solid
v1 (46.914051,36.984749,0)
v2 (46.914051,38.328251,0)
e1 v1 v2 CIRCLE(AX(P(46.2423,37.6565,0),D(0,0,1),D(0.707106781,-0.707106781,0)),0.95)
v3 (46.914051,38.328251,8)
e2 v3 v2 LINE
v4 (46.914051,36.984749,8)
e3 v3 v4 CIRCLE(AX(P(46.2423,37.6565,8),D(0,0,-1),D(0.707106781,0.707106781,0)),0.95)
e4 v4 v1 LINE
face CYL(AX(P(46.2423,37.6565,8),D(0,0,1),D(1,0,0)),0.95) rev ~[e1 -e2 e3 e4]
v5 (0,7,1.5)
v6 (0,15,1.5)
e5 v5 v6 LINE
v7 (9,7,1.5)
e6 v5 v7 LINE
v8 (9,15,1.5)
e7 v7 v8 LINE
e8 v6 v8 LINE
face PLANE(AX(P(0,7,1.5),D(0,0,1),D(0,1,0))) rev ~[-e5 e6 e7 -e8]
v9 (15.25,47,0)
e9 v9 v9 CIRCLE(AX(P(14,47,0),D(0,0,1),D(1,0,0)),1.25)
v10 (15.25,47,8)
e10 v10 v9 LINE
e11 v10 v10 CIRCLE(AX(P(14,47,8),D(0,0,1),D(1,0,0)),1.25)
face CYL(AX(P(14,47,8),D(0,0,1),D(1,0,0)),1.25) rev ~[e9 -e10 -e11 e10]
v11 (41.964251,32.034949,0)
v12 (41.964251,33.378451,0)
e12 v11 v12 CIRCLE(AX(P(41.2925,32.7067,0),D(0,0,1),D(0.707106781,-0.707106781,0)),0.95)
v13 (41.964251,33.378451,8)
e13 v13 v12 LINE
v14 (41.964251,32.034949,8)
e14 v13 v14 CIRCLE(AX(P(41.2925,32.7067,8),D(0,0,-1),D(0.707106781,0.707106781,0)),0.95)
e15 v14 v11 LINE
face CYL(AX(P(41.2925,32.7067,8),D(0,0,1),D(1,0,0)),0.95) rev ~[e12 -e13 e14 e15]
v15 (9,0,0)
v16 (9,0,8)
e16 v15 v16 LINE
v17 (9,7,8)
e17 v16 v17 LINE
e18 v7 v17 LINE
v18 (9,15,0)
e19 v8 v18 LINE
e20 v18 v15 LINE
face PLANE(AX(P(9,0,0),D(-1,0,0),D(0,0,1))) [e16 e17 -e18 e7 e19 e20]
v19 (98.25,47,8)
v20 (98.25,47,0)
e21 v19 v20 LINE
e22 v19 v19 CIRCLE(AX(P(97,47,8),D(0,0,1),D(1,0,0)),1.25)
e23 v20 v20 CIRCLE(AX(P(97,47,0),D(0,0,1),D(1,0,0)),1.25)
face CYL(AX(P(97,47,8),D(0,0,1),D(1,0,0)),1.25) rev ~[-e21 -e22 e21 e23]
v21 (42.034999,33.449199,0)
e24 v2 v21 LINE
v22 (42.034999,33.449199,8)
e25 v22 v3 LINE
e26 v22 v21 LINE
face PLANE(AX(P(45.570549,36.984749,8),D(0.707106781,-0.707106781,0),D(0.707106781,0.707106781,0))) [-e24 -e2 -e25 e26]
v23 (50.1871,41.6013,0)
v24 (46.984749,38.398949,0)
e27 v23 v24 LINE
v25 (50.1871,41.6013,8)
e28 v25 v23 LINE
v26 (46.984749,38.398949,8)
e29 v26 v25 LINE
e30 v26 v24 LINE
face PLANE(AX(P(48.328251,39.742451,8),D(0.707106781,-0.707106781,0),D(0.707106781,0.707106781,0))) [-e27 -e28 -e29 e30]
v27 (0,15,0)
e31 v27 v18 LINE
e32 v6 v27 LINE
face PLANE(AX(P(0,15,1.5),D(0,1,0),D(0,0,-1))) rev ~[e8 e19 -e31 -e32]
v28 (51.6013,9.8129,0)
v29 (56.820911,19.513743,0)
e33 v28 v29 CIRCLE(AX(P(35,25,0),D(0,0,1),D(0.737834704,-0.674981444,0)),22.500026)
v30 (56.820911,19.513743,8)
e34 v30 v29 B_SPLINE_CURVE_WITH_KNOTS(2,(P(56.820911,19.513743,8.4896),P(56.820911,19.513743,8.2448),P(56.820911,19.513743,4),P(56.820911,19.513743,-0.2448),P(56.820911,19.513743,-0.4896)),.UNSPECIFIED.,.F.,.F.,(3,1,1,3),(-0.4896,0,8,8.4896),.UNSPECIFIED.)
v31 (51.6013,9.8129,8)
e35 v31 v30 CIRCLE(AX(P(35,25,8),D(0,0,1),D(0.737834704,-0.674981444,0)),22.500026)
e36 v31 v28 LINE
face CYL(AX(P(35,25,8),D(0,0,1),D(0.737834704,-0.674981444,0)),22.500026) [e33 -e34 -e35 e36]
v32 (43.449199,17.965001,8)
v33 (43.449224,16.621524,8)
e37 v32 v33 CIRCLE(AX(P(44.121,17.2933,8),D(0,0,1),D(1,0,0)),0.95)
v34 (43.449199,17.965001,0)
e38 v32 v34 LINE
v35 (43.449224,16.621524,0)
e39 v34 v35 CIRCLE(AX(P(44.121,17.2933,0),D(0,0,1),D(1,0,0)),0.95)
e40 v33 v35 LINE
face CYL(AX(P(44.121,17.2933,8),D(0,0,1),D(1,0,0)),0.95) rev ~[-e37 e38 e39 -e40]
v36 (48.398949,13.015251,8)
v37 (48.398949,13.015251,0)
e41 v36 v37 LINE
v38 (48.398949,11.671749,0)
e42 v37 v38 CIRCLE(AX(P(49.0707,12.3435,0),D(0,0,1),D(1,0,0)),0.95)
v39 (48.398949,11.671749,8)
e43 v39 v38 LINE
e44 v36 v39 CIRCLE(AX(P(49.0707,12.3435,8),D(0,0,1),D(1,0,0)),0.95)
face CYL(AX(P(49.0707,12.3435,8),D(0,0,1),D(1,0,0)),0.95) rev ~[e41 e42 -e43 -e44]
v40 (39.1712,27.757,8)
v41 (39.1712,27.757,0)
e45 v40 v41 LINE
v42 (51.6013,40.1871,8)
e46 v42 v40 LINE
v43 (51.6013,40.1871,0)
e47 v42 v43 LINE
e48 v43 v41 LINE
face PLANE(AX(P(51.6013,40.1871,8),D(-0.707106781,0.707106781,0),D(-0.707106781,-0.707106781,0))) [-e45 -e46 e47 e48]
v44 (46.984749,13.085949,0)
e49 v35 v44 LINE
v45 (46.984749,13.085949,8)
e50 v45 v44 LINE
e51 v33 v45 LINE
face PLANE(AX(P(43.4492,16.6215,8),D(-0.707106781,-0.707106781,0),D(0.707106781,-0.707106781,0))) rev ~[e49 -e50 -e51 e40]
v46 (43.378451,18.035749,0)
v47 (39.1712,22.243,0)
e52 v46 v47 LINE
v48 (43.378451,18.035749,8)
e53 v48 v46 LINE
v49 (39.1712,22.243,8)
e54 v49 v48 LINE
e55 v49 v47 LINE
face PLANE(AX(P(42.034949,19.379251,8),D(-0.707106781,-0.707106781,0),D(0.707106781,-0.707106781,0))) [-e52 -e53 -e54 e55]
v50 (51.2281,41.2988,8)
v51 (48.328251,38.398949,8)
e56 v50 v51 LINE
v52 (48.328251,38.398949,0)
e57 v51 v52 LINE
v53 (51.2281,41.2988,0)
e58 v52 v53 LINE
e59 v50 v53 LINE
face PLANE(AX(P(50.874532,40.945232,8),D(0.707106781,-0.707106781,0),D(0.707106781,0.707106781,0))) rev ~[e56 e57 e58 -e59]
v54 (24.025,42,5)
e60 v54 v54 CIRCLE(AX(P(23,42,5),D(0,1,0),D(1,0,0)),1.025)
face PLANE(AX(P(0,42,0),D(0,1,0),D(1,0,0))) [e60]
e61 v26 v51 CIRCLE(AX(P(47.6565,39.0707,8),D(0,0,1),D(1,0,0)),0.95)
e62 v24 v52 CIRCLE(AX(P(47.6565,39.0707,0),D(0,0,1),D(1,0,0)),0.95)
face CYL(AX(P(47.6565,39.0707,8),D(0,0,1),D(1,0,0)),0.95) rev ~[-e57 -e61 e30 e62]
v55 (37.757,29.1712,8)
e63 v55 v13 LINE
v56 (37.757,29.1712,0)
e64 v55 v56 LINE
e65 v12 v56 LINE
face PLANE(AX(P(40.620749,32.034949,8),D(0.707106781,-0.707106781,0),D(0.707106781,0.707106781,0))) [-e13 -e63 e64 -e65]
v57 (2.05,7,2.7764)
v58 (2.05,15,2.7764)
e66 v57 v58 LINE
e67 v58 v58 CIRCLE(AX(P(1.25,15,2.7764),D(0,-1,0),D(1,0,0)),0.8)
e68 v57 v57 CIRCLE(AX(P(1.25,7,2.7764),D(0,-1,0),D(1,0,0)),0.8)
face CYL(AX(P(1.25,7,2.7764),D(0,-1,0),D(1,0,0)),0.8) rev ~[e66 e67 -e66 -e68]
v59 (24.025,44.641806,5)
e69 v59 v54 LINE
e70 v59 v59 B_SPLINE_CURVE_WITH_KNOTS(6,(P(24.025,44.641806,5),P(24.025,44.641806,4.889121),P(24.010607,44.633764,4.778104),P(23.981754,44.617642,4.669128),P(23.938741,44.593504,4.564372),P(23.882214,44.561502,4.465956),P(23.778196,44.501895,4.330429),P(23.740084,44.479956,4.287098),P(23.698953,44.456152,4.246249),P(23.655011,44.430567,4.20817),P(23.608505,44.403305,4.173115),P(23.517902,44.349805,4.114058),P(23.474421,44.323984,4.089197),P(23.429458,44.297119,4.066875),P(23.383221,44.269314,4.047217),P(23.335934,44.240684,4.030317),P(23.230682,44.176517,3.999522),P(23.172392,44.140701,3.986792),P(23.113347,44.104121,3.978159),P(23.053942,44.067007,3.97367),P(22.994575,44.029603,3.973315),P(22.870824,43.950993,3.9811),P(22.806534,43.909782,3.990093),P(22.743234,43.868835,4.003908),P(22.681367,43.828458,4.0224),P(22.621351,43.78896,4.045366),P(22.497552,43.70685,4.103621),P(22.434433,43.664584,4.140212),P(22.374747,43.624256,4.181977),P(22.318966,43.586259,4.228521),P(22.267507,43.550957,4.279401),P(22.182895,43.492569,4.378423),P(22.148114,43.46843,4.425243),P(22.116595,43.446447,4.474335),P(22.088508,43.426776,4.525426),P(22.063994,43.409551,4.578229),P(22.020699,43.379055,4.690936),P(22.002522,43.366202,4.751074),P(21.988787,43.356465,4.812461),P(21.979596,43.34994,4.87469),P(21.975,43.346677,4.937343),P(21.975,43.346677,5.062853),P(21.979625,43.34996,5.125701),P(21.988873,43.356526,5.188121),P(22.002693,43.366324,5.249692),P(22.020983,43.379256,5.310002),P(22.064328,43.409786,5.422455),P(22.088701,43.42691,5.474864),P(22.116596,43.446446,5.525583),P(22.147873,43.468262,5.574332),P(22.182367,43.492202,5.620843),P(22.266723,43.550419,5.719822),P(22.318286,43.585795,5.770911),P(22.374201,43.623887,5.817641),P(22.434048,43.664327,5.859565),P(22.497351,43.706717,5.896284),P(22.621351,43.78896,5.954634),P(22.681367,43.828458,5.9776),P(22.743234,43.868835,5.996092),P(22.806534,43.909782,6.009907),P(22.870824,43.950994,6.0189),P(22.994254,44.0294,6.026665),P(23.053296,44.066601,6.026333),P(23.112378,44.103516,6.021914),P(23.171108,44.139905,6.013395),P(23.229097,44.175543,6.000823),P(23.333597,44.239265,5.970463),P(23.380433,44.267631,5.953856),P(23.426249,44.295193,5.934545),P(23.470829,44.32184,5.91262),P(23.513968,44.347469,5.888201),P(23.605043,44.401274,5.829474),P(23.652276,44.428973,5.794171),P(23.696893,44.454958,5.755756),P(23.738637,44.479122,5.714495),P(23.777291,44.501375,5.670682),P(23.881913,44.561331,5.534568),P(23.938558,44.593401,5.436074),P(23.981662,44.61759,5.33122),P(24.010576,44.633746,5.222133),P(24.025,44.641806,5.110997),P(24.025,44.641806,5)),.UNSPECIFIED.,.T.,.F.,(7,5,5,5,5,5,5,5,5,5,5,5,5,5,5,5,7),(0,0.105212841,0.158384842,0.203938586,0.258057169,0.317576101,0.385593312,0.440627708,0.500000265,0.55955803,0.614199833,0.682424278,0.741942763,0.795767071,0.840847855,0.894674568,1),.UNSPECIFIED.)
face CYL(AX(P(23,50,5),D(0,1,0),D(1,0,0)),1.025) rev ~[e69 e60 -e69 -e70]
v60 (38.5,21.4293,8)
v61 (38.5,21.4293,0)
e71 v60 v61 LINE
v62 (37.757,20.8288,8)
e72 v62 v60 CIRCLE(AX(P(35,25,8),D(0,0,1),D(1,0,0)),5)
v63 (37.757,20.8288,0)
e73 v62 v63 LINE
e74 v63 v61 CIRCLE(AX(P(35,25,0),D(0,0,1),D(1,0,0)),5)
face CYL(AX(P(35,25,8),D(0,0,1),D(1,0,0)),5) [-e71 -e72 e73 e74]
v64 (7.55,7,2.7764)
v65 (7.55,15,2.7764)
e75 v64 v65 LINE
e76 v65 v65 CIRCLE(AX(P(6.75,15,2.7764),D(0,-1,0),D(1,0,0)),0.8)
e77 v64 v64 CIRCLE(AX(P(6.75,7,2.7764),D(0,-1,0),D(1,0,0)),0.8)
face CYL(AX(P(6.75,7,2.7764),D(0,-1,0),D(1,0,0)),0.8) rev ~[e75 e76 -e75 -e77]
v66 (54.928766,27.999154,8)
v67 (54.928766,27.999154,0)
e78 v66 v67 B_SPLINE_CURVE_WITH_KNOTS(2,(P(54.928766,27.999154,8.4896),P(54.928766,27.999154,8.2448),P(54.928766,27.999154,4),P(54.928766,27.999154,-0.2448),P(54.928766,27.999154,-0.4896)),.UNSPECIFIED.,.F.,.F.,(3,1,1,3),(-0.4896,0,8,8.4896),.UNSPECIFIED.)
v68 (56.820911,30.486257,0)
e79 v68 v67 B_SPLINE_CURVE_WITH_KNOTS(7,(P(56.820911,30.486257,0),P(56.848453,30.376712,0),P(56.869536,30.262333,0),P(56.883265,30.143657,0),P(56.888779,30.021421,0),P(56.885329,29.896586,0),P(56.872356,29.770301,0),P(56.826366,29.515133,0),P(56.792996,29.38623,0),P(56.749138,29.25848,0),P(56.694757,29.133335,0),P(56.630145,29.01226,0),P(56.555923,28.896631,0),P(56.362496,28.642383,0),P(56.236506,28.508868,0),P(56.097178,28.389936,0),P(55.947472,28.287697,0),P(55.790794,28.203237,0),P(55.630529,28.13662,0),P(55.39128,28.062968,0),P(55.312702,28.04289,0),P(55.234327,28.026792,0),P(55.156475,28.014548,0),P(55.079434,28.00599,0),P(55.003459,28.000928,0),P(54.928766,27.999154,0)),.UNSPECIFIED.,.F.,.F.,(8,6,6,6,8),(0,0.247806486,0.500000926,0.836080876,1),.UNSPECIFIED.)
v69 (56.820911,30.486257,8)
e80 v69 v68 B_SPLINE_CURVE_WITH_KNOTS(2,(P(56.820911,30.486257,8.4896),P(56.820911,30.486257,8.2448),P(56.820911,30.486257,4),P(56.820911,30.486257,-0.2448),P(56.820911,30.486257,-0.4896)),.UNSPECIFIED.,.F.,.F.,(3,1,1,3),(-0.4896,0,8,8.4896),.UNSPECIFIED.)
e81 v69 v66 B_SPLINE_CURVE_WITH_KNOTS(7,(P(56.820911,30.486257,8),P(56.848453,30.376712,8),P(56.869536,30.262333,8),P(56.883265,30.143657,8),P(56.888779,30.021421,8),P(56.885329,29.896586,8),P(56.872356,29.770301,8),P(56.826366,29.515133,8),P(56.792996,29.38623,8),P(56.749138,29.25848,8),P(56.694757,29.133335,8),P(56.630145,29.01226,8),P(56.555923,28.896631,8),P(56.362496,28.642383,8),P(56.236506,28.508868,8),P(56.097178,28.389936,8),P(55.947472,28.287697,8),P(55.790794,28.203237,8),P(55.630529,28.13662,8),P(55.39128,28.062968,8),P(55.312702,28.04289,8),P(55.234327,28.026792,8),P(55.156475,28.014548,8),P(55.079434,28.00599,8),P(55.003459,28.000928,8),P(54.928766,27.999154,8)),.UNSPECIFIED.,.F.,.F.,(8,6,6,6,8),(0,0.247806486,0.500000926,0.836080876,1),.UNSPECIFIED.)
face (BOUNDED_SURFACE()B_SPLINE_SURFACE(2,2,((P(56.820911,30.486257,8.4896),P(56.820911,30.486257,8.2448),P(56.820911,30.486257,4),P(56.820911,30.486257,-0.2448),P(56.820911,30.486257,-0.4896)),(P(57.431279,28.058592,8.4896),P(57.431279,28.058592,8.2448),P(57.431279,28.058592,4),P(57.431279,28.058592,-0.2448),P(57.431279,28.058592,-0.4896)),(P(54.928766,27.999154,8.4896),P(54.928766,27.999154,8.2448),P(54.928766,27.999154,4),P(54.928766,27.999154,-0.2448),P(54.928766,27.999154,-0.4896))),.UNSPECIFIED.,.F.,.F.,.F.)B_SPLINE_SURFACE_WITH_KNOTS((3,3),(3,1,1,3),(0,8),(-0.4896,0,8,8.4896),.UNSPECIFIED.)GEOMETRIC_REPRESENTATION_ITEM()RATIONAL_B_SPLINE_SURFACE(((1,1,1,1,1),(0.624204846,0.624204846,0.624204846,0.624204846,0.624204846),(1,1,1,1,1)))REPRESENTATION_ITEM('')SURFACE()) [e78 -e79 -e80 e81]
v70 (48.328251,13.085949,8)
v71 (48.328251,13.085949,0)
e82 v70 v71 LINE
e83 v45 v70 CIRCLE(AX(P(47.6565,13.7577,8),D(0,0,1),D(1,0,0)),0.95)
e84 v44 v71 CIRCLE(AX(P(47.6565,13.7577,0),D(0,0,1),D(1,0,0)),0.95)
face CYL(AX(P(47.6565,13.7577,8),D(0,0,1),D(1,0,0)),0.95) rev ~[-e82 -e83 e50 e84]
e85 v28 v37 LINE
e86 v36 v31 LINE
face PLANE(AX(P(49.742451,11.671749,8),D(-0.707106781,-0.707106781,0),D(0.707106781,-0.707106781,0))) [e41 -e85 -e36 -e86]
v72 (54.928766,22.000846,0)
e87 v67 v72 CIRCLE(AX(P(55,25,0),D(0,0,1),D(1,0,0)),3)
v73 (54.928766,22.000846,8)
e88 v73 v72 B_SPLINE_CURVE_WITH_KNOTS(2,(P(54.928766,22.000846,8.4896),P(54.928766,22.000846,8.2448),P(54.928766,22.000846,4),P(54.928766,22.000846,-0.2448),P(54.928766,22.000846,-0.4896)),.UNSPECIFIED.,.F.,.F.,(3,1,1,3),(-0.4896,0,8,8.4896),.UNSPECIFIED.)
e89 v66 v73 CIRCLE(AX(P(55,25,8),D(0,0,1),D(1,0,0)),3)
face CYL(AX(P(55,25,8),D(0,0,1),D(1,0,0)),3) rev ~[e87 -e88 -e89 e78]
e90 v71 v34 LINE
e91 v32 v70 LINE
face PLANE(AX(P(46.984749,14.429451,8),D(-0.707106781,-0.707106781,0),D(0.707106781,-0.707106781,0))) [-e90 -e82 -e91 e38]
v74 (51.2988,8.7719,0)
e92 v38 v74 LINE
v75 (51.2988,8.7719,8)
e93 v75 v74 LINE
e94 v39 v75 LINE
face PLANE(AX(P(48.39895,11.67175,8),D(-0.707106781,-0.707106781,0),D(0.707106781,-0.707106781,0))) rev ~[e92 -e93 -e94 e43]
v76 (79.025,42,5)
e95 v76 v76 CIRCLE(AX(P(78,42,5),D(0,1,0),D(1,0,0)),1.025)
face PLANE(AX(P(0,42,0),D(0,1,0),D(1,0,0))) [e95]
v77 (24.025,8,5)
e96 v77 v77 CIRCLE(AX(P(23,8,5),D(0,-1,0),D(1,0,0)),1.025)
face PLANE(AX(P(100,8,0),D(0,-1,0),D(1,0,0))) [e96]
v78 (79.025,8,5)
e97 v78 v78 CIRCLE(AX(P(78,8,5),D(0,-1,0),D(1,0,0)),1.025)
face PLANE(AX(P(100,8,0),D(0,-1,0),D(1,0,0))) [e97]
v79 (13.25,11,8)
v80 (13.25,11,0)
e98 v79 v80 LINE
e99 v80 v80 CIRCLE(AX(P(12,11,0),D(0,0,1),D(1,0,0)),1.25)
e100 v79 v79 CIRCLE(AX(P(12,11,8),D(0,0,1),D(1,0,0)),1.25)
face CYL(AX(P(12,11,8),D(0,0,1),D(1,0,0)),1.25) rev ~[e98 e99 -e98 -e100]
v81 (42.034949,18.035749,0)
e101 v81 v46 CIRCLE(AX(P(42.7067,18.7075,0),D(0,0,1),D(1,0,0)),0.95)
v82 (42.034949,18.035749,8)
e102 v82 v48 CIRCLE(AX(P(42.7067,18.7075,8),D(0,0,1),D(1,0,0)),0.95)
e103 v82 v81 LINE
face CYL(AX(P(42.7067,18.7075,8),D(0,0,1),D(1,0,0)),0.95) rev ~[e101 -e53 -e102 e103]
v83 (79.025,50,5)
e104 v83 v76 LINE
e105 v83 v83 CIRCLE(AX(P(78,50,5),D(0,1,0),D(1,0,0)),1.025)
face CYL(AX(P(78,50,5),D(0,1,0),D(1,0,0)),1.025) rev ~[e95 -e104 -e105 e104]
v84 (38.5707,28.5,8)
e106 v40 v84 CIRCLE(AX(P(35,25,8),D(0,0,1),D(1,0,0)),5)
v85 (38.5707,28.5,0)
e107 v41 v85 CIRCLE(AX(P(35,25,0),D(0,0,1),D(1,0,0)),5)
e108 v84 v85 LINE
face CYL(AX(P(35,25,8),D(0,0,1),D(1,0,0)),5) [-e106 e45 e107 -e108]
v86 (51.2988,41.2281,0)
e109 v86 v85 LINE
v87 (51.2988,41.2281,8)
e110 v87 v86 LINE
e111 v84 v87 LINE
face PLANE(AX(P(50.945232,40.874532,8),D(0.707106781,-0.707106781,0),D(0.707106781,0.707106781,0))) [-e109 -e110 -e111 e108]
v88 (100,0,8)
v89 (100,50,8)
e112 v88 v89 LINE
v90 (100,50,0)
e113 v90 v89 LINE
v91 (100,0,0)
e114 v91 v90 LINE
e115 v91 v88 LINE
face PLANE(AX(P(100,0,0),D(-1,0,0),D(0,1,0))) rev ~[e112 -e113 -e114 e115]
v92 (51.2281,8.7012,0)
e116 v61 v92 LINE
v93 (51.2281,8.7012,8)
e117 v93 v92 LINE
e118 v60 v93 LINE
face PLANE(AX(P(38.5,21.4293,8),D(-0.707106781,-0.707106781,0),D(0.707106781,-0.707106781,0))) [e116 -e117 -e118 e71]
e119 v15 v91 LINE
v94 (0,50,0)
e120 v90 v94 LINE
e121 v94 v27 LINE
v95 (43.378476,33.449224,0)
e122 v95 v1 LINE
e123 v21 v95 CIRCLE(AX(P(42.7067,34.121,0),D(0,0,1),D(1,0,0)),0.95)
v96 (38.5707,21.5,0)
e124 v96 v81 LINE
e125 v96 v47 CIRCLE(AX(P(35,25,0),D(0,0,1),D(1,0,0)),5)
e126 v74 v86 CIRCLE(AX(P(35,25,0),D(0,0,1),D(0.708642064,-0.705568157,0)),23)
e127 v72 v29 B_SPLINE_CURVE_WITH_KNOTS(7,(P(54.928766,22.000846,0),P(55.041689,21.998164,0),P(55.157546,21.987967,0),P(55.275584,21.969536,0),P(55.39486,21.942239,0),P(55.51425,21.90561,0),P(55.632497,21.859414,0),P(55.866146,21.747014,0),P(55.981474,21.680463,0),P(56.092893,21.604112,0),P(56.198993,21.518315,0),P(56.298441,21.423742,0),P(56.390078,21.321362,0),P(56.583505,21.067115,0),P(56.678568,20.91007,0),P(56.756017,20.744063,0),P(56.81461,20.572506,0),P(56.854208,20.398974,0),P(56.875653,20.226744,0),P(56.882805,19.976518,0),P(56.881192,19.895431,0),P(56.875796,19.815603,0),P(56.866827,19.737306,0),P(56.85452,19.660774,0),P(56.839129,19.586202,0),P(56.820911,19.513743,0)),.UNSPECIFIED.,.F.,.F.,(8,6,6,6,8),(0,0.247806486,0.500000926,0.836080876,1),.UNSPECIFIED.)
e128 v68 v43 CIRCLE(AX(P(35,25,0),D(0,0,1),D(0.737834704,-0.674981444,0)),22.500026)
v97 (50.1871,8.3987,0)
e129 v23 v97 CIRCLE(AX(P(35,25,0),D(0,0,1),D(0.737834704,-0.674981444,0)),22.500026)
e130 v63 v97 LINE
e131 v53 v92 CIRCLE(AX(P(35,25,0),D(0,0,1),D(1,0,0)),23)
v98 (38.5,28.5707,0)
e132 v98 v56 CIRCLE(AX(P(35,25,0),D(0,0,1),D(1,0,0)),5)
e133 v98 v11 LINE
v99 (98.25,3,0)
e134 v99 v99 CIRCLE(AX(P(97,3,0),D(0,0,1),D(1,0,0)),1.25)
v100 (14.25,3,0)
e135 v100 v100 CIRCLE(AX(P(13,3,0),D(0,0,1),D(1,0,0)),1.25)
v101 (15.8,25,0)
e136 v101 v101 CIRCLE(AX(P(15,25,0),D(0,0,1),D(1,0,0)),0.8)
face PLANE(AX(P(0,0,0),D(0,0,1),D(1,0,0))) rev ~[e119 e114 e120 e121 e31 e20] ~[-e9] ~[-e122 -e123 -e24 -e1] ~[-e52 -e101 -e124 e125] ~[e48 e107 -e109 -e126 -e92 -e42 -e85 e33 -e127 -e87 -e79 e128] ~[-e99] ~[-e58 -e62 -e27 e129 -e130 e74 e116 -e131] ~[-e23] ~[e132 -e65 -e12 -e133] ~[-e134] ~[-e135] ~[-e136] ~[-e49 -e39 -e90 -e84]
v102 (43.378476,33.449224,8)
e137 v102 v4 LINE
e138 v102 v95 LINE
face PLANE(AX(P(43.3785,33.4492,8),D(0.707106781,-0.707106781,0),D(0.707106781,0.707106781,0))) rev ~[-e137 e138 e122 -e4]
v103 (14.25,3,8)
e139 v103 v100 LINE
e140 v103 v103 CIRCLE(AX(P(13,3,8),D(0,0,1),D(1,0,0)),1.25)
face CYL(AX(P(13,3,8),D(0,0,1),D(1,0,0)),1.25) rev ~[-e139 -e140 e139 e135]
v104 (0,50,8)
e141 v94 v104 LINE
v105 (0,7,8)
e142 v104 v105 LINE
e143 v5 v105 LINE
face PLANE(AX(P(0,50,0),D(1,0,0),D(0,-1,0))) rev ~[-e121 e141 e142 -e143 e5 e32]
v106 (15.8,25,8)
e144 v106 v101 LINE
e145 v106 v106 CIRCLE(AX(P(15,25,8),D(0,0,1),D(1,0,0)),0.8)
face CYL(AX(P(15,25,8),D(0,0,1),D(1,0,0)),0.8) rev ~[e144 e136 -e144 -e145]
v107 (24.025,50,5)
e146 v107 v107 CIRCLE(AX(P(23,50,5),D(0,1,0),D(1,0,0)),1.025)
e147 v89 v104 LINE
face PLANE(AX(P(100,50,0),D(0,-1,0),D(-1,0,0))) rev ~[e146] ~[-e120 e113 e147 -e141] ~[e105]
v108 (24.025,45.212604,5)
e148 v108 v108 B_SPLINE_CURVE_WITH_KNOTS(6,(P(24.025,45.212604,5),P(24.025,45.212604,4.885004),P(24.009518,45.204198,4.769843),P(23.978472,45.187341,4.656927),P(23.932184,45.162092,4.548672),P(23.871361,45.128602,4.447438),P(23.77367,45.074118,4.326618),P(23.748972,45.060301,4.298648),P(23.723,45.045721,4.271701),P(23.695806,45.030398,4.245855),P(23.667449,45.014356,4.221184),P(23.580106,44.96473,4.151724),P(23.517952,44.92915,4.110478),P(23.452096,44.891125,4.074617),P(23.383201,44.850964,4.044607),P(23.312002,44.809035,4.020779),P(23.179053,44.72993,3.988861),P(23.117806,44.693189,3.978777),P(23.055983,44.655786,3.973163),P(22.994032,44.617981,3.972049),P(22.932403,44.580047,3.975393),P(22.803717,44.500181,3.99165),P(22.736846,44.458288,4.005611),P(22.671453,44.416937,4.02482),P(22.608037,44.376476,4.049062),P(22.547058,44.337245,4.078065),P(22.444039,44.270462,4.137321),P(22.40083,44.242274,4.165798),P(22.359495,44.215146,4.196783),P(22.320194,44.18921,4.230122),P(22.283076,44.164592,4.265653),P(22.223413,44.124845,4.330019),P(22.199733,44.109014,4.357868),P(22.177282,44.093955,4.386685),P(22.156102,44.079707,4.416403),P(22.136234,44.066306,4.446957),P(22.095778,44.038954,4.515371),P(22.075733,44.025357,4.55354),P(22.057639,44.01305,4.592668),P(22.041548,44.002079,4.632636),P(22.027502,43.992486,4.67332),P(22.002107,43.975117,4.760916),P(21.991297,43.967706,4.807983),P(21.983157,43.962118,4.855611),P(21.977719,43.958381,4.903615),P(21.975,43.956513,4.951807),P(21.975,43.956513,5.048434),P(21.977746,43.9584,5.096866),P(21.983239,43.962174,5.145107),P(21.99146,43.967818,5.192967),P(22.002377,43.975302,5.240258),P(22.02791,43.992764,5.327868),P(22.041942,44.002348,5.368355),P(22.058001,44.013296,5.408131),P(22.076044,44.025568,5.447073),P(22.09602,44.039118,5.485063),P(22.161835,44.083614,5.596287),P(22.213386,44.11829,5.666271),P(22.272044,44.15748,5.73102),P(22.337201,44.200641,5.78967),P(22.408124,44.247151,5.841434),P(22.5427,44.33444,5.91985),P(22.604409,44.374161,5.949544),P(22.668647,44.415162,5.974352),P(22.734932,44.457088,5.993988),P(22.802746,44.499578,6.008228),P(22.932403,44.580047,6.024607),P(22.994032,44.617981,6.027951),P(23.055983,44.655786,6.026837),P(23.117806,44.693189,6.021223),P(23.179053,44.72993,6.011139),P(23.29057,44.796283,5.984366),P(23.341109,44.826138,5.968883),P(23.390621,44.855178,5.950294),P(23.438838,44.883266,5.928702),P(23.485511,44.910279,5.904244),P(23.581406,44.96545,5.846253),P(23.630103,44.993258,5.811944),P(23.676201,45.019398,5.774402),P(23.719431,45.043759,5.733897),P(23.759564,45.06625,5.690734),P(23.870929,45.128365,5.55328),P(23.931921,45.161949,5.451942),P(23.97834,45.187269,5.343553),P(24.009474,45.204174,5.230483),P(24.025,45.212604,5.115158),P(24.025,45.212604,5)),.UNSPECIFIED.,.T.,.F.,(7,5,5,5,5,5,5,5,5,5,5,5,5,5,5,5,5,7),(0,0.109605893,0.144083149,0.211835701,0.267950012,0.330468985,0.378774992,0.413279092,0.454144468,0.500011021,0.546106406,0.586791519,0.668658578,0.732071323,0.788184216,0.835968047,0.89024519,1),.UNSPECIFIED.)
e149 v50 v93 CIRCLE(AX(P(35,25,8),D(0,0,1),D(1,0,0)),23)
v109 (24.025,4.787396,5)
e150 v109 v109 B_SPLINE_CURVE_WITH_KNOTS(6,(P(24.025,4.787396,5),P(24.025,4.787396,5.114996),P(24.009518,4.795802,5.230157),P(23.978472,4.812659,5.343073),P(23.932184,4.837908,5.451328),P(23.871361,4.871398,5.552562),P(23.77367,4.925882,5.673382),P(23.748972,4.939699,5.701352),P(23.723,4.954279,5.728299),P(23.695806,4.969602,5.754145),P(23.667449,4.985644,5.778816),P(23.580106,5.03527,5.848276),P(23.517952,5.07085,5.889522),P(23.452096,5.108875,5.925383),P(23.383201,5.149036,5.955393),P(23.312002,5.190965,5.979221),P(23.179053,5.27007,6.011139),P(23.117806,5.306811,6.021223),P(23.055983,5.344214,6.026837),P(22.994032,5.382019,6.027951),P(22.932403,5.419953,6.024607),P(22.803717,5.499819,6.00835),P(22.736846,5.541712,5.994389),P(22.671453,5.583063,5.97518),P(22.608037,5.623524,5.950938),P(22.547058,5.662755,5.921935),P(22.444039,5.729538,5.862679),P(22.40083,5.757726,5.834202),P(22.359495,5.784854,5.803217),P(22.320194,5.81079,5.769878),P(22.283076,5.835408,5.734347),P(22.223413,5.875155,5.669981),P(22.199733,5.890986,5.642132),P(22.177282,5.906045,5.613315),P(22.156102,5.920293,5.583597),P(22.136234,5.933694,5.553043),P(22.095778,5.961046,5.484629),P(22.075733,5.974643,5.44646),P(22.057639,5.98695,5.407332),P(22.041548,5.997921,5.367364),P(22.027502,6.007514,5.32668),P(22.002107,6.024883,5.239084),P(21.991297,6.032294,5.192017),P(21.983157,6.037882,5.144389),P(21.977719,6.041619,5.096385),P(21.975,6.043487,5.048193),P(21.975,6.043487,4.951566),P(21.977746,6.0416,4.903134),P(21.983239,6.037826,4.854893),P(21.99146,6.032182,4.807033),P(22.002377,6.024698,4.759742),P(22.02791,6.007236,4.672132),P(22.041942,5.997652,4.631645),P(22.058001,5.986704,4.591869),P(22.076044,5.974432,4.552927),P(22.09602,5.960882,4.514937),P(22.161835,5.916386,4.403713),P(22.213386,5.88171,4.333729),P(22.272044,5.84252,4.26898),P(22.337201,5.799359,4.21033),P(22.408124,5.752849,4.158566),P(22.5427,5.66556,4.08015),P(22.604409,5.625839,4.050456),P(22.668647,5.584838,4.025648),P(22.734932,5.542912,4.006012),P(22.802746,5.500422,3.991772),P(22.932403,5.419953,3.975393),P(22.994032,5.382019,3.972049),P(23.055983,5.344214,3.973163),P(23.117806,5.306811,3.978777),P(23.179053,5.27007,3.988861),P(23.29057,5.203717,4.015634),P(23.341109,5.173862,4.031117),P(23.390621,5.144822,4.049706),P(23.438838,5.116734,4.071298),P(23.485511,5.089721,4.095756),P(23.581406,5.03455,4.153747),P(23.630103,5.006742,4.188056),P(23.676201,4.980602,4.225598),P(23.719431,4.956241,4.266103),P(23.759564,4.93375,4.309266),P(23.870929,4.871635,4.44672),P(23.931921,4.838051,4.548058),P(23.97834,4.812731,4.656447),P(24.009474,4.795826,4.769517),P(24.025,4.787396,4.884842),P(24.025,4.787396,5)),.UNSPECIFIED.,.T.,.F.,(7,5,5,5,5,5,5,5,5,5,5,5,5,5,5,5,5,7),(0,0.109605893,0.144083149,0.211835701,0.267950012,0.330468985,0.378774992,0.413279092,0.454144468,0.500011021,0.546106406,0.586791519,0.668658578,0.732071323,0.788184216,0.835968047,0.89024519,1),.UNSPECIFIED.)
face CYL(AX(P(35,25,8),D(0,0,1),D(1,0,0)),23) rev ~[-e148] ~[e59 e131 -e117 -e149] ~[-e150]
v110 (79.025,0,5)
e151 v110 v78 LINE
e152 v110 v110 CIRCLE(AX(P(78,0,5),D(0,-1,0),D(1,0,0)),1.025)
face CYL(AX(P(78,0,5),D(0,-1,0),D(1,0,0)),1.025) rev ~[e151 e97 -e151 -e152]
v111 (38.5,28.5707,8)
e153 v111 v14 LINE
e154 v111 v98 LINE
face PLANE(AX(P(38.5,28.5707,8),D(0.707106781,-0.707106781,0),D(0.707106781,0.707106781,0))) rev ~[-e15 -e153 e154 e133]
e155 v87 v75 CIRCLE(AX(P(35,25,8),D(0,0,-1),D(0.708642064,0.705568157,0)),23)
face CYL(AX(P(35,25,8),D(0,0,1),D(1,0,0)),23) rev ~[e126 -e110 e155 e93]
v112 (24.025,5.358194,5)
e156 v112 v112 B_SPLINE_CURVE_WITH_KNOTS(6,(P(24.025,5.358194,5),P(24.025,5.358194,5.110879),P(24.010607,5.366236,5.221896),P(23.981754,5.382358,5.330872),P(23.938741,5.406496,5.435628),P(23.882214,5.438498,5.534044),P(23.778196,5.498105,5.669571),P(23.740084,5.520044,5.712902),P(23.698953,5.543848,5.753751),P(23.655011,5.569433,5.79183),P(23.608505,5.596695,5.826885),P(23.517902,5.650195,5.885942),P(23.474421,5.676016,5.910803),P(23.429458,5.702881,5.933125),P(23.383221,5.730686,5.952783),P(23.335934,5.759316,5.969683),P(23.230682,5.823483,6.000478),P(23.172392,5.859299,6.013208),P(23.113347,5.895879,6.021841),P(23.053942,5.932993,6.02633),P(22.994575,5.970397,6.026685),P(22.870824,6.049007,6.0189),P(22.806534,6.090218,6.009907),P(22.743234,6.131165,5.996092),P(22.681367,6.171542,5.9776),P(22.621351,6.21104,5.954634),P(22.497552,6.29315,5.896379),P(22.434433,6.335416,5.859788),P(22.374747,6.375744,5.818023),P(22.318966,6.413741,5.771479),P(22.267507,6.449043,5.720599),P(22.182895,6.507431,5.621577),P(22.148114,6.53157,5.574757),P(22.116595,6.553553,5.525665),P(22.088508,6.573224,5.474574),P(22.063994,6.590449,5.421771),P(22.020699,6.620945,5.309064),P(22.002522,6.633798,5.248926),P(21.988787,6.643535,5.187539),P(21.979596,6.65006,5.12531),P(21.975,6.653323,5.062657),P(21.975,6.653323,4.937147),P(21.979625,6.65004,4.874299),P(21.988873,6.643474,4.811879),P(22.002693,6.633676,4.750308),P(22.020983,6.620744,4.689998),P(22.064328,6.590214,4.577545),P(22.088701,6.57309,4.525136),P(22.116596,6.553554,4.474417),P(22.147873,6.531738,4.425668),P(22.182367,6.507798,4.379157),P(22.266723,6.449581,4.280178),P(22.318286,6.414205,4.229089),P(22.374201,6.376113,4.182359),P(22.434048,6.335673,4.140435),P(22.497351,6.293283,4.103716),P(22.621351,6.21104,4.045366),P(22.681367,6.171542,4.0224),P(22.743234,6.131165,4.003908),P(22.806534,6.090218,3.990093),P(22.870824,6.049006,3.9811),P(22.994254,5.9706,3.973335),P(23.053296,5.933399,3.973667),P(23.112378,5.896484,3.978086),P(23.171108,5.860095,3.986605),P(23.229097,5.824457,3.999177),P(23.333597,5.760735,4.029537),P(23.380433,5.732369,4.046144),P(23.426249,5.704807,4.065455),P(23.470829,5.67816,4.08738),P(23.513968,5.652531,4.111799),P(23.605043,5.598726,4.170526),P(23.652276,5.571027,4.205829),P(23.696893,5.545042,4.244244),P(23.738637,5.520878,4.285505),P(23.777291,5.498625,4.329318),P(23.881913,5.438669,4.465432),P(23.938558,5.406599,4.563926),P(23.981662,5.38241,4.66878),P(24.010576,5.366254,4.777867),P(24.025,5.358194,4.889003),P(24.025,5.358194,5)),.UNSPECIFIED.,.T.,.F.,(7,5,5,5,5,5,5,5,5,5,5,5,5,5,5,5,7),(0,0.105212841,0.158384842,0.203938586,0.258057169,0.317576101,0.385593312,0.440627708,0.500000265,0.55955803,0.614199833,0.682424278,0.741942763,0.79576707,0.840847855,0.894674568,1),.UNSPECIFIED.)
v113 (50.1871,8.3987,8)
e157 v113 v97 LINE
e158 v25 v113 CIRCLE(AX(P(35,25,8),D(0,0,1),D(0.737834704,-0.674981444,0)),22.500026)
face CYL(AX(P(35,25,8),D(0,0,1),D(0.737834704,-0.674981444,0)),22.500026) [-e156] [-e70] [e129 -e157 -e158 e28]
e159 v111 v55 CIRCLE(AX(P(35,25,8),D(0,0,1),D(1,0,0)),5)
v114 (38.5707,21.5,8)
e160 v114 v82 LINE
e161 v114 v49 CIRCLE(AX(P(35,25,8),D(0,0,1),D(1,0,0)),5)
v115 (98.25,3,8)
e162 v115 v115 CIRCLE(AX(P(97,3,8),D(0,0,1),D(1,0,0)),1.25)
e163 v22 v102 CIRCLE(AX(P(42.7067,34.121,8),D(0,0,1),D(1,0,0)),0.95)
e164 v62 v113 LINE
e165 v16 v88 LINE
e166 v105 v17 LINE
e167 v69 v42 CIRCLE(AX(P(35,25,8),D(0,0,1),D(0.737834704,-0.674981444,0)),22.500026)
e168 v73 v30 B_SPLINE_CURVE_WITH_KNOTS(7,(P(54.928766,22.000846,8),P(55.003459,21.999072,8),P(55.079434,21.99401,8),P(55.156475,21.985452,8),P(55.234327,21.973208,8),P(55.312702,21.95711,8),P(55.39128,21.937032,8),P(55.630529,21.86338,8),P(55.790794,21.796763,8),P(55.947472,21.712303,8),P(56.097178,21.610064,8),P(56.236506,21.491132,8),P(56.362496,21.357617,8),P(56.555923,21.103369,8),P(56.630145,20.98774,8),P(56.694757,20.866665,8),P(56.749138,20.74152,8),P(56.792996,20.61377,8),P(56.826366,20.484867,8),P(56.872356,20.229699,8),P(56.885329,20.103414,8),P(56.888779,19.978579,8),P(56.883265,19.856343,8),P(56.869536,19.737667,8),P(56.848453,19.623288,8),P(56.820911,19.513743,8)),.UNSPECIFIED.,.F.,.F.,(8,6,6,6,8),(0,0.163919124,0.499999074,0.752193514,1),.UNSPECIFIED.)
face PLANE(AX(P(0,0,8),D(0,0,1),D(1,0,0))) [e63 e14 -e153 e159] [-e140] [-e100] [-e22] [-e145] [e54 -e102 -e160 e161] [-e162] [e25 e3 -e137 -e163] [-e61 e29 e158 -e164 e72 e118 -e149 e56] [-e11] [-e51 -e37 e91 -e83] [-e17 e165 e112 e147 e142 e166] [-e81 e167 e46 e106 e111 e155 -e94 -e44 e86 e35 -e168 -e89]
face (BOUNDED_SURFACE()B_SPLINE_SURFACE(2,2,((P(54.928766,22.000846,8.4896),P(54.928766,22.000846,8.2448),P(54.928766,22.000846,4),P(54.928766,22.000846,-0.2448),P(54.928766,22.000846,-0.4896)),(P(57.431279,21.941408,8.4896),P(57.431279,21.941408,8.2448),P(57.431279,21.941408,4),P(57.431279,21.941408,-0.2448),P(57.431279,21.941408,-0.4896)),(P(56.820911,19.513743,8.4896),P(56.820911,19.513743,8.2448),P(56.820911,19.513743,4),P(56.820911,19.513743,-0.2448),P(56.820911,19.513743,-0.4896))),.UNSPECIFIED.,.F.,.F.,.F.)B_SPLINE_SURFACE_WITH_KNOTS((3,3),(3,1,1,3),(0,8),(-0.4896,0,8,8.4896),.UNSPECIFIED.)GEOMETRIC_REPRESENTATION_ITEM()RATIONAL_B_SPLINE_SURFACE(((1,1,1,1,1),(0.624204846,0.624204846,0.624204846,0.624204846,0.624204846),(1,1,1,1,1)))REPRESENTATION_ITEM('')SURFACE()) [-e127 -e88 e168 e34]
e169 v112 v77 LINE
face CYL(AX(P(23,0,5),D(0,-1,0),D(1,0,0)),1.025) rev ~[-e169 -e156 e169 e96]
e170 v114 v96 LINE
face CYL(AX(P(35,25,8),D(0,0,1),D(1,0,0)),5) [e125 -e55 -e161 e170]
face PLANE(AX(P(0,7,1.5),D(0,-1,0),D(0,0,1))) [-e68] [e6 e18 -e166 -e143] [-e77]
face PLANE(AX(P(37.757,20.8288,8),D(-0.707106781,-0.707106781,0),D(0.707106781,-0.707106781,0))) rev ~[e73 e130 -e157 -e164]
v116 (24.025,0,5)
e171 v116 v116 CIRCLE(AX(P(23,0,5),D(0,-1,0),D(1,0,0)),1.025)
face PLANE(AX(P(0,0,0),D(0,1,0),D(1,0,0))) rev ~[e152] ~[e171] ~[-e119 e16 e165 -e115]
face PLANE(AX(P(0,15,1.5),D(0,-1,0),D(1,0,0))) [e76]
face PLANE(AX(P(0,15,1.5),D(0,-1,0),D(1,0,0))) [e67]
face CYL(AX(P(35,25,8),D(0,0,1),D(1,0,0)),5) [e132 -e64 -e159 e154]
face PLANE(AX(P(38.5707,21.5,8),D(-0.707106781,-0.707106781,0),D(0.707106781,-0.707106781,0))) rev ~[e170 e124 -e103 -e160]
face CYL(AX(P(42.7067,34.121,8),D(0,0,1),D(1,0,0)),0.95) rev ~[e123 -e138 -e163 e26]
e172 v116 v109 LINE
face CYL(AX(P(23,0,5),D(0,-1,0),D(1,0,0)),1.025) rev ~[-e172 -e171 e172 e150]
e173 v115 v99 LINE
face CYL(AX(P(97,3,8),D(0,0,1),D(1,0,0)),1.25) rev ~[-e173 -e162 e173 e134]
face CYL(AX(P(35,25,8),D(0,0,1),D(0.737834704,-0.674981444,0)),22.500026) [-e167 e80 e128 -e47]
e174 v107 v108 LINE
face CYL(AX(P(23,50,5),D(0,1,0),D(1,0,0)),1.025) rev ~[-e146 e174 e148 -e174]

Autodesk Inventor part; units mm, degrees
ref_plane "YZ Plane" through (0, 0, 0) normal (1, 0, 0) x (0, 1, 0)
ref_plane "XZ Plane" through (0, 0, 0) normal (0, 1, 0) x (-1, 0, 0)
ref_plane "XY Plane" through (0, 0, 0) normal (0, 0, 1) x (1, 0, 0)
sketch "Sketch1" plane through (0, 0, 0) normal (0, 0, 1) x (1, 0, 0)
  line L0 (0, 0) -> (100, 0)
  line L1 (100, 0) -> (100, 50)
  line L2 (100, 50) -> (0, 50)
  line L3 (0, 50) -> (0, 0)
  circle A0 centre (95, 45) radius 1.75
  circle A1 centre (95, 5) radius 1.75
  circle A2 centre (15, 45) radius 1.75
  circle A3 centre (15, 5) radius 1.75
  dimension "d0" = 50
  dimension "d1" = 100
  dimension "d2" = 5
  dimension "d3" = 5
  dimension "d4" = 5
  dimension "d5" = 5
  dimension "d6" = 5
  dimension "d7" = 15
  dimension "d8" = 15
  dimension "d9" = 5
  dimension "d10" = 3.5
  dimension "d11" = 3.5
  dimension "d12" = 3.5
  dimension "d13" = 3.5
extrude "Extrusion1" add sketch "Sketch1" along normal blind 8 contours L3 L2 L1 L0 | A0 | A1 | A2 | A3
sketch "Sketch4" plane through (0, 0, 8) normal (0, 0, 1) x (1, 0, 0)
  circle A0 centre (15, 25) radius 0.8
  circle A1 centre (55, 25) radius 3
  line L0 (0, 50) -> (0, 0) projected
  line L1 (35, 25) -> (52.9141, 42.9141)
  line L2 (35, 25) -> (41.4896, 25)
  line L3 (35, 25) -> (55.1987, 4.8013)
  circle A2 centre (35, 25) radius 23
  line L4 (0, 0) -> (100, 0) projected
  circle A3 centre (35, 25) radius 5
  line L5 (38.5, 28.5707) -> (51.2281, 41.2988)
  line L6 (37.757, 29.1712) -> (50.1871, 41.6013)
  line L7 (38.5707, 28.5) -> (51.2988, 41.2281)
  line L8 (51.6013, 40.1871) -> (39.1712, 27.757)
  line L9 (38.5707, 21.5) -> (51.2988, 8.7719)
  line L10 (38.5, 21.4293) -> (51.2281, 8.7012)
  line L11 (37.757, 20.8288) -> (50.1871, 8.3987)
  line L12 (39.1712, 22.243) -> (51.6013, 9.8129)
  arc A4 (51.6013, 9.8129) -> (50.1871, 8.3987) centre (35, 25) ccw
  circle A5 centre (41.2925, 32.7067) radius 0.95
  circle A6 centre (42.7067, 34.121) radius 0.95
  circle A7 centre (46.2423, 37.6565) radius 0.95
  circle A8 centre (47.6565, 39.0707) radius 0.95
  circle A9 centre (42.7067, 18.7075) radius 0.95
  circle A10 centre (44.121, 17.2933) radius 0.95
  circle A11 centre (47.6565, 13.7577) radius 0.95
  circle A12 centre (49.0707, 12.3435) radius 0.95
  point P0 (0, 15)
  point P1 (7, 0)
  point P2 (57.4312, 26.7576)
  point P3 (57.4312, 23.2424)
  point P4 (58, 25)
  point P5 (50.9452, 40.8745)
  point P6 (50.8745, 40.9452)
  point P7 (41.9643, 32.035)
  point P8 (41.9643, 33.3785)
  point P9 (42.035, 33.4492)
  point P10 (43.3785, 33.4492)
  point P11 (46.914, 36.9847)
  point P12 (46.914, 38.3282)
  point P13 (48.3282, 38.399)
  point P14 (46.9847, 38.399)
  point P15 (42.035, 18.0357)
  point P16 (43.3785, 18.0357)
  point P17 (43.4492, 17.965)
  point P18 (43.4492, 16.6215)
  point P19 (46.9847, 13.086)
  point P20 (48.3282, 13.086)
  point P21 (48.399, 13.0153)
  point P22 (48.399, 11.6718)
  dimension "d34" = 10
  dimension "d22" = 15
  dimension "d23" = 40
  dimension "d24" = 20
  dimension "d26" = 1.6
  dimension "d27" = 6
  dimension "d28" = 45
  dimension "d29" = 45
  dimension "d30" = 46
  dimension "d31" = 25
  dimension "d32" = 25
  dimension "d33" = 25
  dimension "d35" = 1
  dimension "d36" = 1
  dimension "d37" = 0.1
  dimension "d38" = 0.05
  dimension "d39" = 0.1
  dimension "d40" = 0.05
  dimension "d41" = 1
  dimension "d42" = 1
  dimension "d79" = 5
  dimension "d80" = 2
  dimension "d81" = 5
  dimension "d82" = 2
  dimension "d83" = 5
  dimension "d84" = 2
  dimension "d85" = 5
  dimension "d86" = 2
extrude "Extrusion4" cut sketch "Sketch4" against normal blind 8 contours A0 | A1 A4 | A2 L9 A12 L12 A4 A1 | A1 A4 L7 A2 | A4 A1 | L8 A3 L7 A4 | A12 L12 | L5 A4 L11 A3 L10 A2 | L9 A10 L12 A11 | A11 L12 | L5 A8 L6 A4 | A3 L12 A9 L9 | A10 L12 | A3 L6 A5 L5 | A8 L6 | A9 L12 | A5 L6 | L5 A6 L6 A7 | A7 L6 | A6 L6 picked at (49.0352, 12.0288) picked at (47.3576, 13.4145) picked at (44.1564, 16.9786) picked at (47.9671, 39.0089) picked at (42.6021, 18.4086) picked at (41.6092, 32.7067) picked at (46.2068, 37.3418) picked at (43.0173, 33.7349)
fillet "Fillet2" radius 2 2 edges at (57.4312, 26.7576, 4) (57.4312, 23.2424, 4)
sketch "Sketch5" plane through (0, 0, 0) normal (-1, 0, 0) x (0, 0, 1)
  line L0 (0, 0) -> (1.5, 0)
  line L1 (1.5, 0) -> (1.5, 15)
  line L2 (1.5, 15) -> (0, 15)
  line L3 (0, 15) -> (0, 0)
  line L4 (8, 0) -> (8, 50) projected
  line L5 (8, 0) -> (1.5, 0)
  line L6 (1.5, 0) -> (1.5, 7)
  line L7 (1.5, 7) -> (8, 7)
  line L8 (8, 7) -> (8, 0)
  dimension "d47" = 15
  dimension "d48" = 1.5
  dimension "d51" = 7
extrude "Extrusion5" cut sketch "Sketch5" against normal blind 9
sketch "Sketch6" plane through (0, 7, 1.5) normal (0, -1, 0) x (1, 0, 0)
  circle A0 centre (6.75, 1.2764) radius 1.1 projected
  circle A1 centre (1.25, 1.2764) radius 1.1 projected
  circle A2 centre (6.75, 1.2764) radius 0.8
  circle A3 centre (1.25, 1.2764) radius 0.8
  point P0 (0, -1.5)
  dimension "d52" = 1.6
  dimension "d53" = 1.6
extrude "Extrusion6" cut sketch "Sketch6" against normal blind 8 contours A2 | A3
sketch "Sketch7" plane through (0, 0, 8) normal (0, 0, 1) x (1, 0, 0)
  circle A0 centre (97, 3) radius 1.7 projected
  circle A1 centre (97, 47) radius 1.7 projected
  circle A2 centre (12, 11) radius 1.7 projected
  circle A3 centre (21.5, 47.5) radius 1.7 projected
  circle A4 centre (97, 3) radius 1.25
  circle A5 centre (97, 47) radius 1.25
  circle A6 centre (13, 3) radius 1.25
  circle A7 centre (12, 11) radius 1.25
  circle A8 centre (21.5, 47.5) radius 1.25
  circle A9 centre (14, 47) radius 1.7
  circle A10 centre (14, 47) radius 1.25
  line L0 (9, 0) -> (100, 0) projected
  line L1 (9, 0) -> (9, 15) projected
  point P0 (0, 0)
  dimension "d56" = 2.5
  dimension "d57" = 2.5
  dimension "d58" = 2.5
  dimension "d59" = 2.5
  dimension "d60" = 2.5
  dimension "d63" = 2.5
  dimension "d64" = 3
  dimension "d65" = 4
extrude "Extrusion7" cut sketch "Sketch7" against normal blind 8 contours A4 | A5 | A6 | A7 | A10
sketch "Sketch8" plane through (0, 50, 0) normal (0, 1, 0) x (1, 0, 0)
  circle A0 centre (23, -5) radius 1.375
  circle A1 centre (78, -5) radius 1.375
  circle A2 centre (23, -5) radius 1.025
  circle A3 centre (78, -5) radius 1.025
  line L0 (0, 0) -> (0, -8) projected
  dimension "d68" = 2.05
  dimension "d69" = 2.05
  dimension "d74" = 23
  dimension "d75" = 23
  dimension "d76" = 55
extrude "Extrusion8" cut sketch "Sketch8" against normal blind 8 contours A2 | A3
sketch "Sketch9" plane through (100, 0, 0) normal (0, -1, 0) x (1, 0, 0)
  circle A0 centre (-77, 5) radius 1.375
  circle A1 centre (-22, 5) radius 1.375
  circle A2 centre (-77, 5) radius 1.025
  circle A3 centre (-22, 5) radius 1.025
  line L0 (-100, 1.5) -> (-100, 8) projected
  point P0 (-100, 0)
  dimension "d70" = 2.05
  dimension "d71" = 2.05
  dimension "d77" = 23
  dimension "d78" = 55
extrude "Extrusion9" cut sketch "Sketch9" against normal blind 8 contours A2 | A3
equation "\"d4\" = d3"
equation "\"d5\" = d2"
equation "\"d6\" = d3"
equation "\"d9\" = d4"
equation "\"d10\" = d11"
equation "\"d12\" = d11"
equation "\"d13\" = d11"
equation "\"d24\" = 0.5 * d23"
equation "\"d37\" = BladeThicknessRCC"
equation "\"d38\" = 0.5 * d37"
equation "\"d39\" = BladeThicknessRCC"
equation "\"d40\" = 0.5 * BladeThicknessRCC"
equation "\"d59\" = d58"
equation "\"d60\" = d59"
equation "\"d75\" = d74"
equation "\"bladeThicknessTablePushing\" = 0.1"
equation "\"bladeThicknessTable\" = 0.1"
equation "\"bladeThicknessForceConverter\" = 0.2"
equation "\"bladeThicknessWheelAnchor\" = 0.1"
equation "\"safetyPlay\" = 0.1"
equation "\"OffsetMotorSpring\" = -1"
equation "\"BladeThicknessRCC\" = 0.1"
equation "\"bladeThicknessZeroConverter\" = 0.1"
equation "\"rangeXProbeMin\" = -0.6"
equation "\"thicknessWheelPlate\" = 8"
equation "\"rangeXProbeMax\" = 0.6"
equation "\"BladeLengthRCC\" = 18"
equation "\"bladeLengthTable\" = 18"
equation "\"bladeLengthWheelAnchor\" = 7.5"
equation "\"RCCdeadCenter\" = 5"
equation "\"bladeLengthZeroConverter\" = 11.98"
equation "\"bladeLengthTablePushing\" = 12"
equation "\"bladeLengthForceConverter\" = 12.125"
equation "\"thicknessConverterPlate\" = 4"
properties part number "RoueV3partA"
